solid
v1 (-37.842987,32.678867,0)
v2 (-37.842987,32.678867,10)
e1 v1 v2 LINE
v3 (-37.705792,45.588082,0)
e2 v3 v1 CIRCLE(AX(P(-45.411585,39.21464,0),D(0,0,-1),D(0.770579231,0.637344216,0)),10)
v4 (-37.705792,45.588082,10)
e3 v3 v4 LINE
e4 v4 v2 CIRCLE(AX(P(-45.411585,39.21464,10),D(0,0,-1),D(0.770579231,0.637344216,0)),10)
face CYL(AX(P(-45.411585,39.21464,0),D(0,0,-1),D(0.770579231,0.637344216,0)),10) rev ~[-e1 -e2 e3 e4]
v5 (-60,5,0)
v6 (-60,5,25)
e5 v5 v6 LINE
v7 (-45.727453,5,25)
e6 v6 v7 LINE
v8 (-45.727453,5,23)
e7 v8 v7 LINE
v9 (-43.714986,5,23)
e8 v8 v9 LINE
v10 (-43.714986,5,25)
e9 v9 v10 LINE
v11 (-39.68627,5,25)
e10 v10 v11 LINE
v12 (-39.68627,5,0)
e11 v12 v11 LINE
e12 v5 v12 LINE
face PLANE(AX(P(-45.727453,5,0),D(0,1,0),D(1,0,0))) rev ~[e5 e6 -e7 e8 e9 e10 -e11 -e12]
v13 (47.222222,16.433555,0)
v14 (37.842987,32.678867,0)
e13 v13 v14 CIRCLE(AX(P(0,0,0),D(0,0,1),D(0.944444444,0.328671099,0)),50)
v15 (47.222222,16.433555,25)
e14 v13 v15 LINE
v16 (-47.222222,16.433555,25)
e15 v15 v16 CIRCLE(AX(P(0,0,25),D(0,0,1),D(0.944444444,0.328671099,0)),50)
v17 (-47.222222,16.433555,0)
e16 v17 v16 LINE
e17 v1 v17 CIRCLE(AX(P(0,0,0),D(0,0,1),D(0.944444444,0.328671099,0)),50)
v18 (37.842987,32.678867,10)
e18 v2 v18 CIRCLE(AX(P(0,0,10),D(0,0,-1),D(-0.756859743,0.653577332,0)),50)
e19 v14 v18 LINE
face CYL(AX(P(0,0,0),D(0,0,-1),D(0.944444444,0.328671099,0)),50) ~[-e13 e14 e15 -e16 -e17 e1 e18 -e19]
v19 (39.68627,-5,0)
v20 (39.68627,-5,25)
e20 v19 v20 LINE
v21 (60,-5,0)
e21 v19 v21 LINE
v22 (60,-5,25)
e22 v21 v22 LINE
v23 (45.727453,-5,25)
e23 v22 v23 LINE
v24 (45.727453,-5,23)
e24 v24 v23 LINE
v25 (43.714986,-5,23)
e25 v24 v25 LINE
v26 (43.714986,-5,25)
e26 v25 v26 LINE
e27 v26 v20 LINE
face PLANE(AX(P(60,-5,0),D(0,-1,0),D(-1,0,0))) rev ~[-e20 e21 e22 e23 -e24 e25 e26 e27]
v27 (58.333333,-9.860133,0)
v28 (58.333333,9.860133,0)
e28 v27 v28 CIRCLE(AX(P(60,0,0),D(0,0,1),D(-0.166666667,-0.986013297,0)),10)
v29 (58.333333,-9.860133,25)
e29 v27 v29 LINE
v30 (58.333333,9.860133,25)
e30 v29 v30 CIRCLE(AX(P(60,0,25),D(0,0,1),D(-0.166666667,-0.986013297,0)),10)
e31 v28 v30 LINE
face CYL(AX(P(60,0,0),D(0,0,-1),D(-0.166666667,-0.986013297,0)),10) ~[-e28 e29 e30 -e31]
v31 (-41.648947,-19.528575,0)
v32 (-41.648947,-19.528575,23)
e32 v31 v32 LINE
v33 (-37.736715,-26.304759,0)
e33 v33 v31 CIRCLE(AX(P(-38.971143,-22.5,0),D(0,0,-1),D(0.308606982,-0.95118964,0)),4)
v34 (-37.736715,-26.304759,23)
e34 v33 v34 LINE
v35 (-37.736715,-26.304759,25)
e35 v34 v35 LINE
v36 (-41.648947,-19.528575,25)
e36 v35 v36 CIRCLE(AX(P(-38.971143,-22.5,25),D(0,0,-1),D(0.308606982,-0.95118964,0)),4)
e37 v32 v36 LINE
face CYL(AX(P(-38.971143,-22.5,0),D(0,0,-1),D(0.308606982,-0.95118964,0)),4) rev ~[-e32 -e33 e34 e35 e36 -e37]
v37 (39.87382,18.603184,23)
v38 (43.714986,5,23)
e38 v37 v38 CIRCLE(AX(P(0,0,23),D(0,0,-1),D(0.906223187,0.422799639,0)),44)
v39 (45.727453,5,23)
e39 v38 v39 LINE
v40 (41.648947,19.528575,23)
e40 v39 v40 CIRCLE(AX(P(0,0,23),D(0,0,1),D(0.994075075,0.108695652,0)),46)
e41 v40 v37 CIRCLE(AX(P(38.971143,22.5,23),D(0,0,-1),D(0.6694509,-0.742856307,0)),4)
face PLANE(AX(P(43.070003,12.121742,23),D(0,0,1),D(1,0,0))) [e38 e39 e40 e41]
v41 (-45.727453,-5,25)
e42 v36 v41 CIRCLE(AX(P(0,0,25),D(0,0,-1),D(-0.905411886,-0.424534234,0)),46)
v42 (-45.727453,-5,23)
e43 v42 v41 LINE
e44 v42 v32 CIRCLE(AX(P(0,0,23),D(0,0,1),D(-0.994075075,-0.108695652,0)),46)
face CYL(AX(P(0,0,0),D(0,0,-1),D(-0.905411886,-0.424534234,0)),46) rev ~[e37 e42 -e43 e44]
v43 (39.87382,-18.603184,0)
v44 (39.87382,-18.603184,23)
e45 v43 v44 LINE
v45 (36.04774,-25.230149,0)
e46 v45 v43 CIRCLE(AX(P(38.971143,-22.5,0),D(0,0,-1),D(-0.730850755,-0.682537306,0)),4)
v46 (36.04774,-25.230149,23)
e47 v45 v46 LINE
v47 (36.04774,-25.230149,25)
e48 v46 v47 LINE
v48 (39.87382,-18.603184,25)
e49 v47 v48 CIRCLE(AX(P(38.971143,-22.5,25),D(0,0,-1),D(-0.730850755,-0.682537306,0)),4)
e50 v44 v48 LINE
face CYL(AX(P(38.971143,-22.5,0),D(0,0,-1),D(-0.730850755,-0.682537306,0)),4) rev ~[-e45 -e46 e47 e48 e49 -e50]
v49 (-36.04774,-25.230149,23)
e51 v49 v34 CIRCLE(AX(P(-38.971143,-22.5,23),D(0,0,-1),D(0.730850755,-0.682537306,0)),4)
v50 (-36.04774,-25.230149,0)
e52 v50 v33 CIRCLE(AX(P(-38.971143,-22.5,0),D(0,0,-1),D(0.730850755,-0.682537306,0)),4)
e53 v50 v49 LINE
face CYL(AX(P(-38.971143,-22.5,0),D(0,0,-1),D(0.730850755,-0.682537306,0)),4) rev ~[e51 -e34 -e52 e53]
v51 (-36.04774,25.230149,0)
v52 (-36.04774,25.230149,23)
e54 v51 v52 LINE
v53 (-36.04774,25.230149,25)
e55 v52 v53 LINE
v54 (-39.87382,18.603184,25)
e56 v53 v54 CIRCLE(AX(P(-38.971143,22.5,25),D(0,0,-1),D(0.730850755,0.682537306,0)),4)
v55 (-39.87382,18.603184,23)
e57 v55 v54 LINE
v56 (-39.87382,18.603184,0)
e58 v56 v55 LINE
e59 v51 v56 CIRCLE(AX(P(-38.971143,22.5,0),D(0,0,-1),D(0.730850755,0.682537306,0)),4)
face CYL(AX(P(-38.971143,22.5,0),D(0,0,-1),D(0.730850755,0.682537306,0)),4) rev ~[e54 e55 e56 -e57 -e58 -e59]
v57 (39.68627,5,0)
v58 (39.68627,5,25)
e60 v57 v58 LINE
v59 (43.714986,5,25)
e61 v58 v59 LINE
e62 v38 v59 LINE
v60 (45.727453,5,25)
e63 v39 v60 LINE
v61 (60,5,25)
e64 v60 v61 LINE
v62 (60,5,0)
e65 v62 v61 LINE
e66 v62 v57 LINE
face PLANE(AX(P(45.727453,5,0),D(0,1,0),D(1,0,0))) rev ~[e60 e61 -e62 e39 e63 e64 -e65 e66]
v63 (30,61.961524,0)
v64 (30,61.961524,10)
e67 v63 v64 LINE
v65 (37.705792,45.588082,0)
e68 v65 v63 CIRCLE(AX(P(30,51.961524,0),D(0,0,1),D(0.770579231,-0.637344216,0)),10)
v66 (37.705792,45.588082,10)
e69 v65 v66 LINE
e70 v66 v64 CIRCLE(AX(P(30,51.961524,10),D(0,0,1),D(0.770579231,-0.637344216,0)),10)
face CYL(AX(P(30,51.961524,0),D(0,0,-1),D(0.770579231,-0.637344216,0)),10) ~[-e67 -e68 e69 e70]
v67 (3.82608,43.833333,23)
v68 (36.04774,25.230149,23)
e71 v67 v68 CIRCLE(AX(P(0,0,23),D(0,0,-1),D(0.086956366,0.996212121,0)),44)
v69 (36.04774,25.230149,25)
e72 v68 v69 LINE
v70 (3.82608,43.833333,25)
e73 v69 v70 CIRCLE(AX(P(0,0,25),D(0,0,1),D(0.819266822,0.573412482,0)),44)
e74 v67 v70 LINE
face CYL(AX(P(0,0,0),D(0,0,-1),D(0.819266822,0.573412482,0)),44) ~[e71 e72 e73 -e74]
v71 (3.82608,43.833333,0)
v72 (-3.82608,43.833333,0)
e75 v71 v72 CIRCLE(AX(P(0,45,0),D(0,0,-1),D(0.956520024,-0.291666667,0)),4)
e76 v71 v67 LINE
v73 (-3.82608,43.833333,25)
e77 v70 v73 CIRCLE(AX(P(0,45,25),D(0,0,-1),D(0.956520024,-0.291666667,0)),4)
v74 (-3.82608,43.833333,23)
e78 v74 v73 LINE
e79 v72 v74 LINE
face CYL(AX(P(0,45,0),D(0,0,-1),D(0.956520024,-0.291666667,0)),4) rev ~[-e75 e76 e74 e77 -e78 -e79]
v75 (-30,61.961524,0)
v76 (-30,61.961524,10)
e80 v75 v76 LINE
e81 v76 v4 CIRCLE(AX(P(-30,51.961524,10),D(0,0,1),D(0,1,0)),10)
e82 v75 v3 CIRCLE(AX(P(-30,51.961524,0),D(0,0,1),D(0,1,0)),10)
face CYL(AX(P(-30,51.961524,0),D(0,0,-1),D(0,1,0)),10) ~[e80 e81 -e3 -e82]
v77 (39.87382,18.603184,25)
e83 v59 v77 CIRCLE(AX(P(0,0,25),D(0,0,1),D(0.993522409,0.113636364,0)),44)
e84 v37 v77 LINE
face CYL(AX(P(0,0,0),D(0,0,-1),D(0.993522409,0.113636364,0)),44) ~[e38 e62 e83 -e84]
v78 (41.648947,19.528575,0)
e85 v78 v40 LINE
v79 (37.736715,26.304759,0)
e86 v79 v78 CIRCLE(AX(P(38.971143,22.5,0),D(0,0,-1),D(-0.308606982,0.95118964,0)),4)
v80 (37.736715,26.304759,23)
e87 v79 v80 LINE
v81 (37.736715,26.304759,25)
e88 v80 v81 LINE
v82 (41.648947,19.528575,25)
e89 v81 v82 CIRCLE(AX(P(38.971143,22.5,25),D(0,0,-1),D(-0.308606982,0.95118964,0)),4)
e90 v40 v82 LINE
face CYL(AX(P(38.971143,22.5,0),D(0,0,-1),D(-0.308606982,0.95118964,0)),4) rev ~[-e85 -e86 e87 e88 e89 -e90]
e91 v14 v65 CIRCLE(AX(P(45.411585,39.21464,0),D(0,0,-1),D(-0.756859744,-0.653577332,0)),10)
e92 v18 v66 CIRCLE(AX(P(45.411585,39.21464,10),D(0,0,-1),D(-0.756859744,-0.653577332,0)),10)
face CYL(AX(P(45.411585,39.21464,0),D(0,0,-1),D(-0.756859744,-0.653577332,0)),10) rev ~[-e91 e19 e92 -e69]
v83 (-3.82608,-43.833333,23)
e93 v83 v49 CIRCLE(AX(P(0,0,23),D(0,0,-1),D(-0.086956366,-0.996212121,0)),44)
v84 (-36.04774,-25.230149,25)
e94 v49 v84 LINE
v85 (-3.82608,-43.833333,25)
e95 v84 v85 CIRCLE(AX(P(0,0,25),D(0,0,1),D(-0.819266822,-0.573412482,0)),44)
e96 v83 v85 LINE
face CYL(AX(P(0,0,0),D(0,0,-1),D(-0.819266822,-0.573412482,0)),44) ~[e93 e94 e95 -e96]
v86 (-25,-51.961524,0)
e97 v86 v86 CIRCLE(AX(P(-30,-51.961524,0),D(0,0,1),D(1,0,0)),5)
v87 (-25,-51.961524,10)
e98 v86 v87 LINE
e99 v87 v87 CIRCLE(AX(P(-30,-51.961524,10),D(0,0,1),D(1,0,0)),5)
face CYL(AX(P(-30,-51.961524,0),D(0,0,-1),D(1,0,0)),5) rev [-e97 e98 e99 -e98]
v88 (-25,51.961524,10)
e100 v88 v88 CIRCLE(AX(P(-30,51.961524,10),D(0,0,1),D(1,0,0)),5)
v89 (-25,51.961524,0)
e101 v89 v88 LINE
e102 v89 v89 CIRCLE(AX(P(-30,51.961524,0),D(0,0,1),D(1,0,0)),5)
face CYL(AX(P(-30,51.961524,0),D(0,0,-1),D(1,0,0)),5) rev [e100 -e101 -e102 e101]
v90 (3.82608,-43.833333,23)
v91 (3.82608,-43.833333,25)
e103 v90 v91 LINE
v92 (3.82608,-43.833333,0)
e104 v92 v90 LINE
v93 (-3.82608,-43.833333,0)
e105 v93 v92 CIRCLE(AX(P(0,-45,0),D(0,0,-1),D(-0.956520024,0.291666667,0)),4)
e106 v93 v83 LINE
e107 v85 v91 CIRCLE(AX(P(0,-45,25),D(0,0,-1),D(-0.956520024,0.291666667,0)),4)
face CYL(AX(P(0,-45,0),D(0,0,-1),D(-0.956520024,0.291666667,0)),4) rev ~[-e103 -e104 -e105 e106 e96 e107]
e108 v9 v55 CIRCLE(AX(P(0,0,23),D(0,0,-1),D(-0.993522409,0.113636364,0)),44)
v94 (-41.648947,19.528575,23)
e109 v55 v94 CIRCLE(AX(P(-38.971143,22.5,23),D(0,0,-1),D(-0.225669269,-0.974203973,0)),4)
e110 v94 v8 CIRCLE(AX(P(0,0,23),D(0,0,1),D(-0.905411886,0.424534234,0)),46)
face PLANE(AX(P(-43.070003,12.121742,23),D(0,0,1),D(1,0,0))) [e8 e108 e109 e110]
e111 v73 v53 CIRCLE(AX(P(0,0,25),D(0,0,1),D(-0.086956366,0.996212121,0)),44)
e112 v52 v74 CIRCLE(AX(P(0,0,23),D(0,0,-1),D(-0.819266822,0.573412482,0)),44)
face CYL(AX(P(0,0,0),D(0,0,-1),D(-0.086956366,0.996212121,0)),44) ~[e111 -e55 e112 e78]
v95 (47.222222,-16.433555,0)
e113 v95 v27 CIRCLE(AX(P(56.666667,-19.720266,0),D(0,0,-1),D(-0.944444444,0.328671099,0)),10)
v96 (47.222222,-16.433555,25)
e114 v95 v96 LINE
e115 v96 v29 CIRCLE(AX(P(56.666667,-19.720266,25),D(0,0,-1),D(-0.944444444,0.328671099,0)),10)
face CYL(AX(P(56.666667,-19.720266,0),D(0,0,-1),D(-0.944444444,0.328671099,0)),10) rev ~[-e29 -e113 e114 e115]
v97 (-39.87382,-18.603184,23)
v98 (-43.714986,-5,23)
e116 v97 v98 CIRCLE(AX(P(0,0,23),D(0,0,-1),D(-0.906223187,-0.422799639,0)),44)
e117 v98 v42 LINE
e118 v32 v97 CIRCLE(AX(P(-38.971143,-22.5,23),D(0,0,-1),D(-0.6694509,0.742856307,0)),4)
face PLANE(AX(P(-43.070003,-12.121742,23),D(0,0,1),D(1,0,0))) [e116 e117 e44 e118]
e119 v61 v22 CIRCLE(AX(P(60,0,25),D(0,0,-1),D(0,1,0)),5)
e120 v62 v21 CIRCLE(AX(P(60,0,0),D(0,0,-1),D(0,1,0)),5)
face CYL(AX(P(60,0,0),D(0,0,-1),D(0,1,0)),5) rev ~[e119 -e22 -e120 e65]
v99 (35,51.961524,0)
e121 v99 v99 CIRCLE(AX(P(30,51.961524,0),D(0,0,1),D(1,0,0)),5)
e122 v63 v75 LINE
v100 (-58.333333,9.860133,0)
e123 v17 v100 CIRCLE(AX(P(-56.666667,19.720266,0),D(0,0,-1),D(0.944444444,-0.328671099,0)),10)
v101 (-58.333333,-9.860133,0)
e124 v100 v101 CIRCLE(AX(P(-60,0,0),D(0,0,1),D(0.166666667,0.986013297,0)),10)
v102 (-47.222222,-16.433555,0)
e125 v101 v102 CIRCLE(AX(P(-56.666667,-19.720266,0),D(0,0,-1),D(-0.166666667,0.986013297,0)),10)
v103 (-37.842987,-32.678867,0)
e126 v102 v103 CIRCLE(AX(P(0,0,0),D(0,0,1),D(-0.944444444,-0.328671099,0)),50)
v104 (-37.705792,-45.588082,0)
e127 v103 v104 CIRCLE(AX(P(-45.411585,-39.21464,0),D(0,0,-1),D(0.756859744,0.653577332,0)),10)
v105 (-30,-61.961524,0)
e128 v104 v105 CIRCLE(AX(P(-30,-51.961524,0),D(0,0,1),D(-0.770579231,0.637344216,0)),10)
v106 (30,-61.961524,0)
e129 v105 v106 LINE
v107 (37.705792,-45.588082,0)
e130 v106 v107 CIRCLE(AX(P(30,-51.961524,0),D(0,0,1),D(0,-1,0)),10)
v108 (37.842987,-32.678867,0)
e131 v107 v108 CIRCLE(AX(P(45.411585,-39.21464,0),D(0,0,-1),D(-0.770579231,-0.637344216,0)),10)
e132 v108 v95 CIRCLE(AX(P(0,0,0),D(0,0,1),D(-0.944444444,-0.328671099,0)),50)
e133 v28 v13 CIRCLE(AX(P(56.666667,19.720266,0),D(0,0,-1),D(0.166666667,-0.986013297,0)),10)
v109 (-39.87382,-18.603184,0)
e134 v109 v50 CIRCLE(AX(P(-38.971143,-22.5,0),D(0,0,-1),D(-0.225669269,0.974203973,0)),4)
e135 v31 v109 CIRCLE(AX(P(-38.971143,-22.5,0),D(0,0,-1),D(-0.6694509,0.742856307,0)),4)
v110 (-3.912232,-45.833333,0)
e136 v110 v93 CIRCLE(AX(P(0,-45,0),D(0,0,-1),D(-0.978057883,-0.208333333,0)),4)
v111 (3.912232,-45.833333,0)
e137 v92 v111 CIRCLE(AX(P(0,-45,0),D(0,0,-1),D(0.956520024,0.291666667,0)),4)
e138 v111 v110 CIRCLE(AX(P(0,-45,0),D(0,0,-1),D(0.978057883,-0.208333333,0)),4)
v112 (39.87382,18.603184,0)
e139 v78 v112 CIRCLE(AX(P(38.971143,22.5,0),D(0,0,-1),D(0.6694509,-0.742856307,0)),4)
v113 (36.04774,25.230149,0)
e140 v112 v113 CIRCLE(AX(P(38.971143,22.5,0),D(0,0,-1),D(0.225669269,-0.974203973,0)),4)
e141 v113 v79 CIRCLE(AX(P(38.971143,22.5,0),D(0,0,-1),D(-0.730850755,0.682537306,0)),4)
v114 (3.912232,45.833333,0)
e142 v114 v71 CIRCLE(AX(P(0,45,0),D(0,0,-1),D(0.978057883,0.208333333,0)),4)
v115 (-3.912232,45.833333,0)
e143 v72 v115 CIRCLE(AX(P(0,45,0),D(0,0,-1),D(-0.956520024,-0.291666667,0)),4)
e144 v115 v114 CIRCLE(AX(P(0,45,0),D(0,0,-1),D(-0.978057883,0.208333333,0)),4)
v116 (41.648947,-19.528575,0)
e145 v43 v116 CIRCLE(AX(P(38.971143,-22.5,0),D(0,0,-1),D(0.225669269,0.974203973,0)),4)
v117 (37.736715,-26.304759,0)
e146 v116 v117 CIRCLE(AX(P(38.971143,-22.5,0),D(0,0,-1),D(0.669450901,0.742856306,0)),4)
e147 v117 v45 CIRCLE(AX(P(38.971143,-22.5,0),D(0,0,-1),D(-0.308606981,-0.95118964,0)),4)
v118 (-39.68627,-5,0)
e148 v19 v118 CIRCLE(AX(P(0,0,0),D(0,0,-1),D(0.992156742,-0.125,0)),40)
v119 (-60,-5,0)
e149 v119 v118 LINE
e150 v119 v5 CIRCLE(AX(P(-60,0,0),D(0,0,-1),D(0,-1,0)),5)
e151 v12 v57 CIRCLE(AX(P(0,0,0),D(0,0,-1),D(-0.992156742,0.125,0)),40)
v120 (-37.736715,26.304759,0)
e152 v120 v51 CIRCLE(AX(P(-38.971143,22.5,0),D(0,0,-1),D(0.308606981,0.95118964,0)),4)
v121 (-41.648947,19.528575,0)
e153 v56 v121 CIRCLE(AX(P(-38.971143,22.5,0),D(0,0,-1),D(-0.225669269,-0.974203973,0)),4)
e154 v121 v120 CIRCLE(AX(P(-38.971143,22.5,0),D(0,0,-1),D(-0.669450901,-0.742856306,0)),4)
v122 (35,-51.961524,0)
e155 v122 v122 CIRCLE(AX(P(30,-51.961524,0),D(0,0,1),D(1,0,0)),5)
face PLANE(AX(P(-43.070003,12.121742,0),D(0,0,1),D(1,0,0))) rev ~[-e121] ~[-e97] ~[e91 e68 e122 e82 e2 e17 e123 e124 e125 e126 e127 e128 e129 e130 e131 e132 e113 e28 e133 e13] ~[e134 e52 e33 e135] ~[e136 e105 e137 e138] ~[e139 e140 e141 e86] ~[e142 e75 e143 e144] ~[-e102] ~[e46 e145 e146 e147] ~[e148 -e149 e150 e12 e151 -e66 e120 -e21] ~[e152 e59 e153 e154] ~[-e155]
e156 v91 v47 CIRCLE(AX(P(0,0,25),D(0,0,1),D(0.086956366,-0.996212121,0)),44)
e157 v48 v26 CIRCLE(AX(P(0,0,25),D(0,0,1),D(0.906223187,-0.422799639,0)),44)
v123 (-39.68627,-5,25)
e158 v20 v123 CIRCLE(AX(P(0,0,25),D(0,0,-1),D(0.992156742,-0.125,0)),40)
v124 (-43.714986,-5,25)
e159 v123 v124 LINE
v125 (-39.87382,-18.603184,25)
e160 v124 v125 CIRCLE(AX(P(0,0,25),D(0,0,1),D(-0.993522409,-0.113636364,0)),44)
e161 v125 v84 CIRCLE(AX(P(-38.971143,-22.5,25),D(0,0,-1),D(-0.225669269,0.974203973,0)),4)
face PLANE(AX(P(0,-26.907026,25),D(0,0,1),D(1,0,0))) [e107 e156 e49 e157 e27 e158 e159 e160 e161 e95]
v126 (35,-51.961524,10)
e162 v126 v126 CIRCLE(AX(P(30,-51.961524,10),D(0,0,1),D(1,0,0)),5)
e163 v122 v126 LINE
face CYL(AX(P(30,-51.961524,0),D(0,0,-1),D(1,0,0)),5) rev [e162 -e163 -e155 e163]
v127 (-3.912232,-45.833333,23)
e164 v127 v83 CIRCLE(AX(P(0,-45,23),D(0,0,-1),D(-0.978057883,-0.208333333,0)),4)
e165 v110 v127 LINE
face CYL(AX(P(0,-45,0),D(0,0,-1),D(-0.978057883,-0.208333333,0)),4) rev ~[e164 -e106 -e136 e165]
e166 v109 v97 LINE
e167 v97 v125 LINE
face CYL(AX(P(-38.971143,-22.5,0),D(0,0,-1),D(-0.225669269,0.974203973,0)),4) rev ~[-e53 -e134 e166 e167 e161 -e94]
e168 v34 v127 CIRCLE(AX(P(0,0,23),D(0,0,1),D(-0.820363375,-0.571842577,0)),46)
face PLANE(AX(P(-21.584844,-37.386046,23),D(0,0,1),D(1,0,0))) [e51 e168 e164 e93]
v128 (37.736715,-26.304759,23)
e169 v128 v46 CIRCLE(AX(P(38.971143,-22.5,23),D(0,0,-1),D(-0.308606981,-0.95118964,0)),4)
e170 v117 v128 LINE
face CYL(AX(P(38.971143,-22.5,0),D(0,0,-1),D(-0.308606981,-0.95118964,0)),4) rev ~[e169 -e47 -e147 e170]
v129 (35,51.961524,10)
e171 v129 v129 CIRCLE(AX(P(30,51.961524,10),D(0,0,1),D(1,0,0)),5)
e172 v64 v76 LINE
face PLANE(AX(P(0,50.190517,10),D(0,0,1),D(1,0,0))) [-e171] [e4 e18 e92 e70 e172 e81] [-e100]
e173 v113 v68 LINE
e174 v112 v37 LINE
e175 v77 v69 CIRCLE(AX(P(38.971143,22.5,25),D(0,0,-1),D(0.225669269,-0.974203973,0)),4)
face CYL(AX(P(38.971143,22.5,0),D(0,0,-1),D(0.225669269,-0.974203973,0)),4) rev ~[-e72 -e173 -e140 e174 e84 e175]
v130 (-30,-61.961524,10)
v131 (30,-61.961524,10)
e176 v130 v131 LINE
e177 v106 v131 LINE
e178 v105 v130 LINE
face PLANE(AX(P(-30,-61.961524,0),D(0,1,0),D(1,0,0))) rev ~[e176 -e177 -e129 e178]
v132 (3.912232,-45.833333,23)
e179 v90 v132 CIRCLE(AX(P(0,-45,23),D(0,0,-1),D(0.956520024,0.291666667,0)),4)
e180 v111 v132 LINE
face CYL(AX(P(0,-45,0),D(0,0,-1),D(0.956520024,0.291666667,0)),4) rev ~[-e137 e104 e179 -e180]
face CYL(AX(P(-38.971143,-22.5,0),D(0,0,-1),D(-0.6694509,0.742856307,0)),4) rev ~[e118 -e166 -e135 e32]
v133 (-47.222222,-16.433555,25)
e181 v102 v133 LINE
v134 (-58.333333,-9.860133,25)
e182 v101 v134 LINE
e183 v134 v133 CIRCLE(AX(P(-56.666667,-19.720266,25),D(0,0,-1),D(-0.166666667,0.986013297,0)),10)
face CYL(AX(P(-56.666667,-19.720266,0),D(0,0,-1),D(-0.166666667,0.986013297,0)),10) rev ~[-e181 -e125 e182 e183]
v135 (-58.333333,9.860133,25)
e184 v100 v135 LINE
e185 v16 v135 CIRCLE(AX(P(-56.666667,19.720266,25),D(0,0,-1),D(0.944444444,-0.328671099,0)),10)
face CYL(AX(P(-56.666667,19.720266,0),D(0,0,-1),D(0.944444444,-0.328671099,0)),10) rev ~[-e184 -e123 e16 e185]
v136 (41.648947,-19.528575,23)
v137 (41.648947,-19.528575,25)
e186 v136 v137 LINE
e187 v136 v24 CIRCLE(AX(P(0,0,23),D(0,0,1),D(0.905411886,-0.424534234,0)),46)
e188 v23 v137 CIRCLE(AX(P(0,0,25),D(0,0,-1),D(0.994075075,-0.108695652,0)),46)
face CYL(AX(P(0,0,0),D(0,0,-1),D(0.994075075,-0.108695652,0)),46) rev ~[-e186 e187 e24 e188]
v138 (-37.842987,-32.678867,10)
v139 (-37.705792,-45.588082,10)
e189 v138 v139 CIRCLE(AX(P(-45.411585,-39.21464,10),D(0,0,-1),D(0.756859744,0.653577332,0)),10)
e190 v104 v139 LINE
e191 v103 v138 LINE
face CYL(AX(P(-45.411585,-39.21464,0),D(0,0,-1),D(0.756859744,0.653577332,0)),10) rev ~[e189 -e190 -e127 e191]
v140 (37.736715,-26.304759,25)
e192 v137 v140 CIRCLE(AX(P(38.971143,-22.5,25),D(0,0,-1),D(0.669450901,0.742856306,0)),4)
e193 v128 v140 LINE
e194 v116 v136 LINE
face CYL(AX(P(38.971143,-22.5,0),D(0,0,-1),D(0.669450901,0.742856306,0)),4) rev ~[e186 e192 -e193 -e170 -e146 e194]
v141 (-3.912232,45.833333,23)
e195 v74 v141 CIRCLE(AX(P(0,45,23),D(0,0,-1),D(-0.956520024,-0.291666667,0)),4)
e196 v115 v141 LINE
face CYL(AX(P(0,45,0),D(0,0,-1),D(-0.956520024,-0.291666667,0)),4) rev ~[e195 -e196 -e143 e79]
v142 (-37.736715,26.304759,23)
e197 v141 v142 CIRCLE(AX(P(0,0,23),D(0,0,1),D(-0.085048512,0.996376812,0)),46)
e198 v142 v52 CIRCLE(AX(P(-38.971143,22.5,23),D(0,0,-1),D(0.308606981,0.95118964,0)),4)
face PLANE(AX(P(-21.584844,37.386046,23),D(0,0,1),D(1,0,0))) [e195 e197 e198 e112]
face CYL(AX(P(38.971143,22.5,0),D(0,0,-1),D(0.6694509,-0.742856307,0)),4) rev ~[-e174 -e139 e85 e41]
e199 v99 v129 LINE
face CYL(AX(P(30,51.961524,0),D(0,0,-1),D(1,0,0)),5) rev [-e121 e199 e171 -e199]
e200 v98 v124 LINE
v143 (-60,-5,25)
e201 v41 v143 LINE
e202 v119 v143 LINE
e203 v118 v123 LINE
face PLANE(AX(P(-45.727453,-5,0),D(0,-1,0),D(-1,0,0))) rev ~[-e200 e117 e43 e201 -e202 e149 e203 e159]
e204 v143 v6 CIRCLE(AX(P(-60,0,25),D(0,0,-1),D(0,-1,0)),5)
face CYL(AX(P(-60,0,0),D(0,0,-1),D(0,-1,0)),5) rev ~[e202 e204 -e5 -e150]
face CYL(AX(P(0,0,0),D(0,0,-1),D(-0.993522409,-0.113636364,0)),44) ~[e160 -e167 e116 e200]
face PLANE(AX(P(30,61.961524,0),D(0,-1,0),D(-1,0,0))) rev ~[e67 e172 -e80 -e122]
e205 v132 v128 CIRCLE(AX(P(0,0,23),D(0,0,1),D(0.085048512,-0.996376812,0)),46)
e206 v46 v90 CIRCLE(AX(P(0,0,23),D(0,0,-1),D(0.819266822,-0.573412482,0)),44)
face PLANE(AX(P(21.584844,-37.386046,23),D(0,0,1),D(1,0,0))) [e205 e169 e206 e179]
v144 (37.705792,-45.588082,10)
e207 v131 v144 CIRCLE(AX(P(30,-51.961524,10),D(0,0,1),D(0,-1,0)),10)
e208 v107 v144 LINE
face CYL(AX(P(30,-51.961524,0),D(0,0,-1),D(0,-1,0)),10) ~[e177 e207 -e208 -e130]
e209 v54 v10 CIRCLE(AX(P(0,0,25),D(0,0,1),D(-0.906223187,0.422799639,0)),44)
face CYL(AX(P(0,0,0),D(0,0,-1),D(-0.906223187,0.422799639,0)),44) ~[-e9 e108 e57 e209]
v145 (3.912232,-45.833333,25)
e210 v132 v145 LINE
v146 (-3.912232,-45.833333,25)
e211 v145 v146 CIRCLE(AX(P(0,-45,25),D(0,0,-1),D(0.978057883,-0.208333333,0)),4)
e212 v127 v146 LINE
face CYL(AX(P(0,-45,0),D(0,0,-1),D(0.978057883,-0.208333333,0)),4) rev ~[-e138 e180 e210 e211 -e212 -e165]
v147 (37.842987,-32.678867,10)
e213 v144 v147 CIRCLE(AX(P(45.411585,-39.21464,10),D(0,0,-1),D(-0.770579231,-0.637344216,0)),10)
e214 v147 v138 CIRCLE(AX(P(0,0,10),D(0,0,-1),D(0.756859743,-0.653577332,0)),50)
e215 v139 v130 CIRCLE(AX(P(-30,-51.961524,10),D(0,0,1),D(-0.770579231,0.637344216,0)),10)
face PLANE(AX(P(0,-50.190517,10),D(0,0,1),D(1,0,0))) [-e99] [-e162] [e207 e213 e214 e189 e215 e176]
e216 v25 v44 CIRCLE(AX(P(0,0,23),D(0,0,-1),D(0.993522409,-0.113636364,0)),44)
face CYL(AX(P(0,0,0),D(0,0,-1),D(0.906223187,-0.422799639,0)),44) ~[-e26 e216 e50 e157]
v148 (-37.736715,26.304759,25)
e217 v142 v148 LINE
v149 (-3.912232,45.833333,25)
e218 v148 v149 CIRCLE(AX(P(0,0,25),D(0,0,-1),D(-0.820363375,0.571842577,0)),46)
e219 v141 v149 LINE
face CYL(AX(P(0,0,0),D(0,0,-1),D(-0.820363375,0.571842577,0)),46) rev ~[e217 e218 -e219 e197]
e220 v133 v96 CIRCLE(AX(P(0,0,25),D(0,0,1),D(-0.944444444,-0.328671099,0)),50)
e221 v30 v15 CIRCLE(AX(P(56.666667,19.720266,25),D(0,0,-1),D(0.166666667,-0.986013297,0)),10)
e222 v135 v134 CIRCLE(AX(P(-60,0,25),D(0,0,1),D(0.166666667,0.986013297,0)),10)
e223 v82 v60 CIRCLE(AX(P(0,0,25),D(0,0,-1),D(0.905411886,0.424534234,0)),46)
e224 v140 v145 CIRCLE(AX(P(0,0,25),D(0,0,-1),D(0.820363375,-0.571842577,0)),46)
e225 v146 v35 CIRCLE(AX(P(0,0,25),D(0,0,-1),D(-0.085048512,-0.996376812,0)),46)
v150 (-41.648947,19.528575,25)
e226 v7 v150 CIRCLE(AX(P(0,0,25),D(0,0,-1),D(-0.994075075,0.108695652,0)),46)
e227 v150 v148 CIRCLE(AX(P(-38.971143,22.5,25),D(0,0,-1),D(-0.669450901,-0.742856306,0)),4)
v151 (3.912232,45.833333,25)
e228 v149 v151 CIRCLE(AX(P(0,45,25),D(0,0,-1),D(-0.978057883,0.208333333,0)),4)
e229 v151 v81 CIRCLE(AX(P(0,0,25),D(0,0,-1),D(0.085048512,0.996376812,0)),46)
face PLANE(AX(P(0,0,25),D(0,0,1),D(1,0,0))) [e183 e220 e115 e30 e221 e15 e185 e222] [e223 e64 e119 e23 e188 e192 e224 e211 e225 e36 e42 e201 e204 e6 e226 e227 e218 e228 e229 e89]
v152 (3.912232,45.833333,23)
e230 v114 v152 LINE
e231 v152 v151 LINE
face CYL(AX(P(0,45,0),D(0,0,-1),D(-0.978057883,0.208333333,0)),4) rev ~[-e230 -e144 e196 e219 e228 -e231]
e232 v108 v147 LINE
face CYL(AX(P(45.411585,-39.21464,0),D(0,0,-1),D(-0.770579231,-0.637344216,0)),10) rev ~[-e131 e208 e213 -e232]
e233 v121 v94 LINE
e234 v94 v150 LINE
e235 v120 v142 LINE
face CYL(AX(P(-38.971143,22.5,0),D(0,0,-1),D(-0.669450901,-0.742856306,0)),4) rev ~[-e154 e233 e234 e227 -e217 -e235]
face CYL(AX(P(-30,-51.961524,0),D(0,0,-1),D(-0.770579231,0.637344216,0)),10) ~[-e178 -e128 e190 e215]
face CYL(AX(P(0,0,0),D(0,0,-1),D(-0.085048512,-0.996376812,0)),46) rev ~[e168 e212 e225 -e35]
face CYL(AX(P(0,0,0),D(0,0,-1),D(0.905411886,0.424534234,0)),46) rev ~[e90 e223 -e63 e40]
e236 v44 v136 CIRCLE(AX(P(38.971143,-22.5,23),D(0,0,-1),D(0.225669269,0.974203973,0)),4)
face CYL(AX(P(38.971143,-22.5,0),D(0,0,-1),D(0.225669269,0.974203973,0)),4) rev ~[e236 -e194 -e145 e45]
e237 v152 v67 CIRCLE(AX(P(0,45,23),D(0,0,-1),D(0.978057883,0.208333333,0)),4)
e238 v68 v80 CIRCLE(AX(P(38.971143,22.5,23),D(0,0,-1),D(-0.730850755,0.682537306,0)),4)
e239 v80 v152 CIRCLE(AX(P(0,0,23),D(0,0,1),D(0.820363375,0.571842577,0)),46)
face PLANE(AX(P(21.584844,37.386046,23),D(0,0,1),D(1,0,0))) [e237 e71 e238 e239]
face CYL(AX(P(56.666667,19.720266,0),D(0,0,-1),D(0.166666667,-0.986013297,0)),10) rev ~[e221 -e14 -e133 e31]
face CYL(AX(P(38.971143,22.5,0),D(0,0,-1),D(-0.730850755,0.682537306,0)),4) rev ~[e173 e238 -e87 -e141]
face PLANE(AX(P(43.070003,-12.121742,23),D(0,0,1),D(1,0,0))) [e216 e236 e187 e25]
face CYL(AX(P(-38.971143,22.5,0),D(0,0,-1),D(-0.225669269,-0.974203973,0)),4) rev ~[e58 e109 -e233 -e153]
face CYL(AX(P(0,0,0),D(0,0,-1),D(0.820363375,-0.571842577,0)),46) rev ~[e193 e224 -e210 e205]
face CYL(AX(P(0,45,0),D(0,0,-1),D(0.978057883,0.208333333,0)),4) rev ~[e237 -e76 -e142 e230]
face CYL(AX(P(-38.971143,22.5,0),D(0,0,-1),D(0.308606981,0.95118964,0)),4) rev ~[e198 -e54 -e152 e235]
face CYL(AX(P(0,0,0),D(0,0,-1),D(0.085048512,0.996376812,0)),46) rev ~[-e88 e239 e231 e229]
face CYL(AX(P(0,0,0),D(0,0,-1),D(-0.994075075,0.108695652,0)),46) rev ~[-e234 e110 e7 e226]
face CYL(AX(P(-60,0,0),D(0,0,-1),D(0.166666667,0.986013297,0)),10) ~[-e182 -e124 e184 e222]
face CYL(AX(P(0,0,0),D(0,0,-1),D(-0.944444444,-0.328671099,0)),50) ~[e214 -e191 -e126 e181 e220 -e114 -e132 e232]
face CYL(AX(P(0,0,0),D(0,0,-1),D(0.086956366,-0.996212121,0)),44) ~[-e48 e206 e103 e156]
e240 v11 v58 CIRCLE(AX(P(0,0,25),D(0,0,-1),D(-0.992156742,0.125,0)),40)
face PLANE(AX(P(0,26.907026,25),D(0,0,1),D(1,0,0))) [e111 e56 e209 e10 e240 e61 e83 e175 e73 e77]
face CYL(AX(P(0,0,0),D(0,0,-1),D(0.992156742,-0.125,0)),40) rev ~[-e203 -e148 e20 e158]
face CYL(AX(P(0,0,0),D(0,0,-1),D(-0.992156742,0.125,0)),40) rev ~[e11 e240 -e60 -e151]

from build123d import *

# Parameters (mm, degrees)
SKETCH2_R             = 5
BOSS_EXTRUDE1_DEPTH   = 10
BOSS_EXTRUDE1_2_DEPTH = 10
BOSS_EXTRUDE2_DEPTH   = 25
BOSS_EXTRUDE3_DEPTH   = 23


with BuildPart() as part:
    # Sketch2 → Boss-Extrude1 (new body)
    with BuildSketch(Plane.XY):
        with BuildLine():
            Line((30, 61.961524227), (-30, 61.961524227))
            ThreePointArc((-30, 61.961524227), (-39.04805011, 56.219785516), (-37.705792305, 45.588082068))
            ThreePointArc((-37.705792305, 45.588082068), (-35.412149299, 39.10836922), (-37.842987175, 32.678866591))
            ThreePointArc((-37.842987175, 32.678866591), (0, 50), (37.842987175, 32.678866591))
            ThreePointArc((37.842987175, 32.678866591), (35.412149299, 39.10836922), (37.705792305, 45.588082068))
            ThreePointArc((37.705792305, 45.588082068), (39.04805011, 56.219785516), (30, 61.961524227))
        make_face()
        with Locations((-30, 51.961524227)):
            Circle(SKETCH2_R, mode=Mode.SUBTRACT)
        with Locations((30, 51.961524227)):
            Circle(SKETCH2_R, mode=Mode.SUBTRACT)
    extrude(amount=BOSS_EXTRUDE1_DEPTH)



with BuildPart() as body_2:
    # Sketch2 → Boss-Extrude1 2 (new body)
    with BuildSketch(Plane.XY):
        with BuildLine():
            ThreePointArc((37.842987175, -32.678866591), (0, -50), (-37.842987175, -32.678866591))
            ThreePointArc((-37.842987175, -32.678866591), (-35.412149299, -39.10836922), (-37.705792305, -45.588082068))
            ThreePointArc((-37.705792305, -45.588082068), (-39.04805011, -56.219785516), (-30, -61.961524227))
            Line((-30, -61.961524227), (30, -61.961524227))
            ThreePointArc((30, -61.961524227), (39.04805011, -56.219785516), (37.705792305, -45.588082068))
            ThreePointArc((37.705792305, -45.588082068), (35.412149299, -39.10836922), (37.842987175, -32.678866591))
        make_face()
        with Locations((-30, -51.961524227)):
            Circle(SKETCH2_R, mode=Mode.SUBTRACT)
        with Locations((30, -51.961524227)):
            Circle(SKETCH2_R, mode=Mode.SUBTRACT)
    extrude(amount=BOSS_EXTRUDE1_2_DEPTH)


with BuildPart() as part_1:
    add(part.part)

    add(body_2.part)  # Boss-Extrude2 merges body 2
    # Sketch2<3> → Boss-Extrude2 (add)
    # profile 1 of 3: a face of its own
    with BuildSketch(Plane.XY):
        with BuildLine():
            ThreePointArc((47.222222222, 16.433554953), (0, 50), (-47.222222222, 16.433554953))
            ThreePointArc((-47.222222222, 16.433554953), (-51.574915894, 11.113636285), (-58.333333333, 9.860132972))
            ThreePointArc((-58.333333333, 9.860132972), (-70, 0), (-58.333333333, -9.860132972))
            ThreePointArc((-58.333333333, -9.860132972), (-51.574915894, -11.113636285), (-47.222222222, -16.433554953))
            ThreePointArc((-47.222222222, -16.433554953), (0, -50), (47.222222222, -16.433554953))
            ThreePointArc((47.222222222, -16.433554953), (51.574915894, -11.113636285), (58.333333333, -9.860132972))
            ThreePointArc((58.333333333, -9.860132972), (70, 0), (58.333333333, 9.860132972))
            ThreePointArc((58.333333333, 9.860132972), (51.574915894, 11.113636285), (47.222222222, 16.433554953))
        make_face()
        with BuildLine():
            Line((-60, 5), (-45.727453461, 5))
            ThreePointArc((-45.727453461, 5), (-44.288019832, 12.432670643), (-41.648946773, 19.528574775))
            ThreePointArc((-41.648946773, 19.528574775), (-42.435244785, 24.5), (-37.736715241, 26.304758558))
            ThreePointArc((-37.736715241, 26.304758558), (-23, 39.837168574), (-3.912231531, 45.833333333))
            ThreePointArc((-3.912231531, 45.833333333), (0, 49), (3.912231531, 45.833333333))
            ThreePointArc((3.912231531, 45.833333333), (23, 39.837168574), (37.736715241, 26.304758558))
            ThreePointArc((37.736715241, 26.304758558), (42.435244785, 24.5), (41.648946773, 19.528574775))
            ThreePointArc((41.648946773, 19.528574775), (44.288019832, 12.432670643), (45.727453461, 5))
            Line((45.727453461, 5), (60, 5))
            ThreePointArc((60, 5), (65, 0), (60, -5))
            Line((60, -5), (45.727453461, -5))
            ThreePointArc((45.727453461, -5), (44.288019832, -12.432670643), (41.648946773, -19.528574775))
            ThreePointArc((41.648946773, -19.528574775), (42.435244785, -24.5), (37.736715241, -26.304758558))
            ThreePointArc((37.736715241, -26.304758558), (23, -39.837168574), (3.912231531, -45.833333333))
            ThreePointArc((3.912231531, -45.833333333), (0, -49), (-3.912231531, -45.833333333))
            ThreePointArc((-3.912231531, -45.833333333), (-23, -39.837168574), (-37.736715241, -26.304758558))
            ThreePointArc((-37.736715241, -26.304758558), (-42.435244785, -24.5), (-41.648946773, -19.528574775))
            ThreePointArc((-41.648946773, -19.528574775), (-44.288019832, -12.432670643), (-45.727453461, -5))
            Line((-45.727453461, -5), (-60, -5))
            ThreePointArc((-60, -5), (-65, 0), (-60, 5))
        make_face(mode=Mode.SUBTRACT)
    # profile 2 of 3: a face of its own
    with BuildSketch(Plane.XY):
        with BuildLine():
            Line((-39.686269666, -5), (-43.714985989, -5))
            ThreePointArc((-43.714985989, -5), (-42.344229671, -11.956847978), (-39.873820246, -18.603184108))
            ThreePointArc((-39.873820246, -18.603184108), (-35.507041555, -20.5), (-36.047740152, -25.230149225))
            ThreePointArc((-36.047740152, -25.230149225), (-22, -38.105117767), (-3.826080094, -43.833333333))
            ThreePointArc((-3.826080094, -43.833333333), (0, -41), (3.826080094, -43.833333333))
            ThreePointArc((3.826080094, -43.833333333), (22, -38.105117767), (36.047740152, -25.230149225))
            ThreePointArc((36.047740152, -25.230149225), (35.507041555, -20.5), (39.873820246, -18.603184108))
            ThreePointArc((39.873820246, -18.603184108), (42.344229671, -11.956847978), (43.714985989, -5))
            Line((43.714985989, -5), (39.686269666, -5))
            ThreePointArc((39.686269666, -5), (0, -40), (-39.686269666, -5))
        make_face()
    # profile 3 of 3: a face of its own
    with BuildSketch(Plane.XY):
        with BuildLine():
            Line((-43.714985989, 5), (-39.686269666, 5))
            ThreePointArc((-39.686269666, 5), (0, 40), (39.686269666, 5))
            Line((39.686269666, 5), (43.714985989, 5))
            ThreePointArc((43.714985989, 5), (42.344229671, 11.956847978), (39.873820246, 18.603184108))
            ThreePointArc((39.873820246, 18.603184108), (35.507041555, 20.5), (36.047740152, 25.230149225))
            ThreePointArc((36.047740152, 25.230149225), (22, 38.105117767), (3.826080094, 43.833333333))
            ThreePointArc((3.826080094, 43.833333333), (0, 41), (-3.826080094, 43.833333333))
            ThreePointArc((-3.826080094, 43.833333333), (-22, 38.105117767), (-36.047740152, 25.230149225))
            ThreePointArc((-36.047740152, 25.230149225), (-35.507041555, 20.5), (-39.873820246, 18.603184108))
            ThreePointArc((-39.873820246, 18.603184108), (-42.344229671, 11.956847978), (-43.714985989, 5))
        make_face()
    extrude(amount=BOSS_EXTRUDE2_DEPTH)

    # Sketch2<4> → Boss-Extrude3 (add)
    with BuildSketch(Plane.XY):
        with BuildLine():
            Line((-45.727453461, 5), (-43.714985989, 5))
            ThreePointArc((-43.714985989, 5), (-42.344229671, 11.956847978), (-39.873820246, 18.603184108))
            ThreePointArc((-39.873820246, 18.603184108), (-40.820209812, 18.95303615), (-41.648946773, 19.528574775))
            ThreePointArc((-41.648946773, 19.528574775), (-44.288019832, 12.432670643), (-45.727453461, 5))
        make_face()
        with BuildLine():
            ThreePointArc((39.873820246, 18.603184108), (42.344229671, 11.956847978), (43.714985989, 5))
            Line((43.714985989, 5), (45.727453461, 5))
            ThreePointArc((45.727453461, 5), (44.288019832, 12.432670643), (41.648946773, 19.528574775))
            ThreePointArc((41.648946773, 19.528574775), (40.820209812, 18.95303615), (39.873820246, 18.603184108))
        make_face()
        with BuildLine():
            ThreePointArc((-3.912231531, 45.833333333), (-23, 39.837168574), (-37.736715241, 26.304758558))
            ThreePointArc((-37.736715241, 26.304758558), (-36.82391569, 25.87482061), (-36.047740152, 25.230149225))
            ThreePointArc((-36.047740152, 25.230149225), (-22, 38.105117767), (-3.826080094, 43.833333333))
            ThreePointArc((-3.826080094, 43.833333333), (-3.996294121, 44.827856759), (-3.912231531, 45.833333333))
        make_face()
        with BuildLine():
            ThreePointArc((3.826080094, 43.833333333), (22, 38.105117767), (36.047740152, 25.230149225))
            ThreePointArc((36.047740152, 25.230149225), (36.82391569, 25.87482061), (37.736715241, 26.304758558))
            ThreePointArc((37.736715241, 26.304758558), (23, 39.837168574), (3.912231531, 45.833333333))
            ThreePointArc((3.912231531, 45.833333333), (3.996294121, 44.827856759), (3.826080094, 43.833333333))
        make_face()
        with BuildLine():
            Line((-43.714985989, -5), (-45.727453461, -5))
            ThreePointArc((-45.727453461, -5), (-44.288019832, -12.432670643), (-41.648946773, -19.528574775))
            ThreePointArc((-41.648946773, -19.528574775), (-40.820209812, -18.95303615), (-39.873820246, -18.603184108))
            ThreePointArc((-39.873820246, -18.603184108), (-42.344229671, -11.956847978), (-43.714985989, -5))
        make_face()
        with BuildLine():
            ThreePointArc((41.648946773, -19.528574775), (44.288019832, -12.432670643), (45.727453461, -5))
            Line((45.727453461, -5), (43.714985989, -5))
            ThreePointArc((43.714985989, -5), (42.344229671, -11.956847978), (39.873820246, -18.603184108))
            ThreePointArc((39.873820246, -18.603184108), (40.820209812, -18.95303615), (41.648946773, -19.528574775))
        make_face()
        with BuildLine():
            ThreePointArc((-36.047740152, -25.230149225), (-36.82391569, -25.87482061), (-37.736715241, -26.304758558))
            ThreePointArc((-37.736715241, -26.304758558), (-23, -39.837168574), (-3.912231531, -45.833333333))
            ThreePointArc((-3.912231531, -45.833333333), (-3.996294121, -44.827856759), (-3.826080094, -43.833333333))
            ThreePointArc((-3.826080094, -43.833333333), (-22, -38.105117767), (-36.047740152, -25.230149225))
        make_face()
        with BuildLine():
            ThreePointArc((3.826080094, -43.833333333), (3.996294121, -44.827856759), (3.912231531, -45.833333333))
            ThreePointArc((3.912231531, -45.833333333), (23, -39.837168574), (37.736715241, -26.304758558))
            ThreePointArc((37.736715241, -26.304758558), (36.82391569, -25.87482061), (36.047740152, -25.230149225))
            ThreePointArc((36.047740152, -25.230149225), (22, -38.105117767), (3.826080094, -43.833333333))
        make_face()
    extrude(amount=BOSS_EXTRUDE3_DEPTH)


solid = part_1.part
